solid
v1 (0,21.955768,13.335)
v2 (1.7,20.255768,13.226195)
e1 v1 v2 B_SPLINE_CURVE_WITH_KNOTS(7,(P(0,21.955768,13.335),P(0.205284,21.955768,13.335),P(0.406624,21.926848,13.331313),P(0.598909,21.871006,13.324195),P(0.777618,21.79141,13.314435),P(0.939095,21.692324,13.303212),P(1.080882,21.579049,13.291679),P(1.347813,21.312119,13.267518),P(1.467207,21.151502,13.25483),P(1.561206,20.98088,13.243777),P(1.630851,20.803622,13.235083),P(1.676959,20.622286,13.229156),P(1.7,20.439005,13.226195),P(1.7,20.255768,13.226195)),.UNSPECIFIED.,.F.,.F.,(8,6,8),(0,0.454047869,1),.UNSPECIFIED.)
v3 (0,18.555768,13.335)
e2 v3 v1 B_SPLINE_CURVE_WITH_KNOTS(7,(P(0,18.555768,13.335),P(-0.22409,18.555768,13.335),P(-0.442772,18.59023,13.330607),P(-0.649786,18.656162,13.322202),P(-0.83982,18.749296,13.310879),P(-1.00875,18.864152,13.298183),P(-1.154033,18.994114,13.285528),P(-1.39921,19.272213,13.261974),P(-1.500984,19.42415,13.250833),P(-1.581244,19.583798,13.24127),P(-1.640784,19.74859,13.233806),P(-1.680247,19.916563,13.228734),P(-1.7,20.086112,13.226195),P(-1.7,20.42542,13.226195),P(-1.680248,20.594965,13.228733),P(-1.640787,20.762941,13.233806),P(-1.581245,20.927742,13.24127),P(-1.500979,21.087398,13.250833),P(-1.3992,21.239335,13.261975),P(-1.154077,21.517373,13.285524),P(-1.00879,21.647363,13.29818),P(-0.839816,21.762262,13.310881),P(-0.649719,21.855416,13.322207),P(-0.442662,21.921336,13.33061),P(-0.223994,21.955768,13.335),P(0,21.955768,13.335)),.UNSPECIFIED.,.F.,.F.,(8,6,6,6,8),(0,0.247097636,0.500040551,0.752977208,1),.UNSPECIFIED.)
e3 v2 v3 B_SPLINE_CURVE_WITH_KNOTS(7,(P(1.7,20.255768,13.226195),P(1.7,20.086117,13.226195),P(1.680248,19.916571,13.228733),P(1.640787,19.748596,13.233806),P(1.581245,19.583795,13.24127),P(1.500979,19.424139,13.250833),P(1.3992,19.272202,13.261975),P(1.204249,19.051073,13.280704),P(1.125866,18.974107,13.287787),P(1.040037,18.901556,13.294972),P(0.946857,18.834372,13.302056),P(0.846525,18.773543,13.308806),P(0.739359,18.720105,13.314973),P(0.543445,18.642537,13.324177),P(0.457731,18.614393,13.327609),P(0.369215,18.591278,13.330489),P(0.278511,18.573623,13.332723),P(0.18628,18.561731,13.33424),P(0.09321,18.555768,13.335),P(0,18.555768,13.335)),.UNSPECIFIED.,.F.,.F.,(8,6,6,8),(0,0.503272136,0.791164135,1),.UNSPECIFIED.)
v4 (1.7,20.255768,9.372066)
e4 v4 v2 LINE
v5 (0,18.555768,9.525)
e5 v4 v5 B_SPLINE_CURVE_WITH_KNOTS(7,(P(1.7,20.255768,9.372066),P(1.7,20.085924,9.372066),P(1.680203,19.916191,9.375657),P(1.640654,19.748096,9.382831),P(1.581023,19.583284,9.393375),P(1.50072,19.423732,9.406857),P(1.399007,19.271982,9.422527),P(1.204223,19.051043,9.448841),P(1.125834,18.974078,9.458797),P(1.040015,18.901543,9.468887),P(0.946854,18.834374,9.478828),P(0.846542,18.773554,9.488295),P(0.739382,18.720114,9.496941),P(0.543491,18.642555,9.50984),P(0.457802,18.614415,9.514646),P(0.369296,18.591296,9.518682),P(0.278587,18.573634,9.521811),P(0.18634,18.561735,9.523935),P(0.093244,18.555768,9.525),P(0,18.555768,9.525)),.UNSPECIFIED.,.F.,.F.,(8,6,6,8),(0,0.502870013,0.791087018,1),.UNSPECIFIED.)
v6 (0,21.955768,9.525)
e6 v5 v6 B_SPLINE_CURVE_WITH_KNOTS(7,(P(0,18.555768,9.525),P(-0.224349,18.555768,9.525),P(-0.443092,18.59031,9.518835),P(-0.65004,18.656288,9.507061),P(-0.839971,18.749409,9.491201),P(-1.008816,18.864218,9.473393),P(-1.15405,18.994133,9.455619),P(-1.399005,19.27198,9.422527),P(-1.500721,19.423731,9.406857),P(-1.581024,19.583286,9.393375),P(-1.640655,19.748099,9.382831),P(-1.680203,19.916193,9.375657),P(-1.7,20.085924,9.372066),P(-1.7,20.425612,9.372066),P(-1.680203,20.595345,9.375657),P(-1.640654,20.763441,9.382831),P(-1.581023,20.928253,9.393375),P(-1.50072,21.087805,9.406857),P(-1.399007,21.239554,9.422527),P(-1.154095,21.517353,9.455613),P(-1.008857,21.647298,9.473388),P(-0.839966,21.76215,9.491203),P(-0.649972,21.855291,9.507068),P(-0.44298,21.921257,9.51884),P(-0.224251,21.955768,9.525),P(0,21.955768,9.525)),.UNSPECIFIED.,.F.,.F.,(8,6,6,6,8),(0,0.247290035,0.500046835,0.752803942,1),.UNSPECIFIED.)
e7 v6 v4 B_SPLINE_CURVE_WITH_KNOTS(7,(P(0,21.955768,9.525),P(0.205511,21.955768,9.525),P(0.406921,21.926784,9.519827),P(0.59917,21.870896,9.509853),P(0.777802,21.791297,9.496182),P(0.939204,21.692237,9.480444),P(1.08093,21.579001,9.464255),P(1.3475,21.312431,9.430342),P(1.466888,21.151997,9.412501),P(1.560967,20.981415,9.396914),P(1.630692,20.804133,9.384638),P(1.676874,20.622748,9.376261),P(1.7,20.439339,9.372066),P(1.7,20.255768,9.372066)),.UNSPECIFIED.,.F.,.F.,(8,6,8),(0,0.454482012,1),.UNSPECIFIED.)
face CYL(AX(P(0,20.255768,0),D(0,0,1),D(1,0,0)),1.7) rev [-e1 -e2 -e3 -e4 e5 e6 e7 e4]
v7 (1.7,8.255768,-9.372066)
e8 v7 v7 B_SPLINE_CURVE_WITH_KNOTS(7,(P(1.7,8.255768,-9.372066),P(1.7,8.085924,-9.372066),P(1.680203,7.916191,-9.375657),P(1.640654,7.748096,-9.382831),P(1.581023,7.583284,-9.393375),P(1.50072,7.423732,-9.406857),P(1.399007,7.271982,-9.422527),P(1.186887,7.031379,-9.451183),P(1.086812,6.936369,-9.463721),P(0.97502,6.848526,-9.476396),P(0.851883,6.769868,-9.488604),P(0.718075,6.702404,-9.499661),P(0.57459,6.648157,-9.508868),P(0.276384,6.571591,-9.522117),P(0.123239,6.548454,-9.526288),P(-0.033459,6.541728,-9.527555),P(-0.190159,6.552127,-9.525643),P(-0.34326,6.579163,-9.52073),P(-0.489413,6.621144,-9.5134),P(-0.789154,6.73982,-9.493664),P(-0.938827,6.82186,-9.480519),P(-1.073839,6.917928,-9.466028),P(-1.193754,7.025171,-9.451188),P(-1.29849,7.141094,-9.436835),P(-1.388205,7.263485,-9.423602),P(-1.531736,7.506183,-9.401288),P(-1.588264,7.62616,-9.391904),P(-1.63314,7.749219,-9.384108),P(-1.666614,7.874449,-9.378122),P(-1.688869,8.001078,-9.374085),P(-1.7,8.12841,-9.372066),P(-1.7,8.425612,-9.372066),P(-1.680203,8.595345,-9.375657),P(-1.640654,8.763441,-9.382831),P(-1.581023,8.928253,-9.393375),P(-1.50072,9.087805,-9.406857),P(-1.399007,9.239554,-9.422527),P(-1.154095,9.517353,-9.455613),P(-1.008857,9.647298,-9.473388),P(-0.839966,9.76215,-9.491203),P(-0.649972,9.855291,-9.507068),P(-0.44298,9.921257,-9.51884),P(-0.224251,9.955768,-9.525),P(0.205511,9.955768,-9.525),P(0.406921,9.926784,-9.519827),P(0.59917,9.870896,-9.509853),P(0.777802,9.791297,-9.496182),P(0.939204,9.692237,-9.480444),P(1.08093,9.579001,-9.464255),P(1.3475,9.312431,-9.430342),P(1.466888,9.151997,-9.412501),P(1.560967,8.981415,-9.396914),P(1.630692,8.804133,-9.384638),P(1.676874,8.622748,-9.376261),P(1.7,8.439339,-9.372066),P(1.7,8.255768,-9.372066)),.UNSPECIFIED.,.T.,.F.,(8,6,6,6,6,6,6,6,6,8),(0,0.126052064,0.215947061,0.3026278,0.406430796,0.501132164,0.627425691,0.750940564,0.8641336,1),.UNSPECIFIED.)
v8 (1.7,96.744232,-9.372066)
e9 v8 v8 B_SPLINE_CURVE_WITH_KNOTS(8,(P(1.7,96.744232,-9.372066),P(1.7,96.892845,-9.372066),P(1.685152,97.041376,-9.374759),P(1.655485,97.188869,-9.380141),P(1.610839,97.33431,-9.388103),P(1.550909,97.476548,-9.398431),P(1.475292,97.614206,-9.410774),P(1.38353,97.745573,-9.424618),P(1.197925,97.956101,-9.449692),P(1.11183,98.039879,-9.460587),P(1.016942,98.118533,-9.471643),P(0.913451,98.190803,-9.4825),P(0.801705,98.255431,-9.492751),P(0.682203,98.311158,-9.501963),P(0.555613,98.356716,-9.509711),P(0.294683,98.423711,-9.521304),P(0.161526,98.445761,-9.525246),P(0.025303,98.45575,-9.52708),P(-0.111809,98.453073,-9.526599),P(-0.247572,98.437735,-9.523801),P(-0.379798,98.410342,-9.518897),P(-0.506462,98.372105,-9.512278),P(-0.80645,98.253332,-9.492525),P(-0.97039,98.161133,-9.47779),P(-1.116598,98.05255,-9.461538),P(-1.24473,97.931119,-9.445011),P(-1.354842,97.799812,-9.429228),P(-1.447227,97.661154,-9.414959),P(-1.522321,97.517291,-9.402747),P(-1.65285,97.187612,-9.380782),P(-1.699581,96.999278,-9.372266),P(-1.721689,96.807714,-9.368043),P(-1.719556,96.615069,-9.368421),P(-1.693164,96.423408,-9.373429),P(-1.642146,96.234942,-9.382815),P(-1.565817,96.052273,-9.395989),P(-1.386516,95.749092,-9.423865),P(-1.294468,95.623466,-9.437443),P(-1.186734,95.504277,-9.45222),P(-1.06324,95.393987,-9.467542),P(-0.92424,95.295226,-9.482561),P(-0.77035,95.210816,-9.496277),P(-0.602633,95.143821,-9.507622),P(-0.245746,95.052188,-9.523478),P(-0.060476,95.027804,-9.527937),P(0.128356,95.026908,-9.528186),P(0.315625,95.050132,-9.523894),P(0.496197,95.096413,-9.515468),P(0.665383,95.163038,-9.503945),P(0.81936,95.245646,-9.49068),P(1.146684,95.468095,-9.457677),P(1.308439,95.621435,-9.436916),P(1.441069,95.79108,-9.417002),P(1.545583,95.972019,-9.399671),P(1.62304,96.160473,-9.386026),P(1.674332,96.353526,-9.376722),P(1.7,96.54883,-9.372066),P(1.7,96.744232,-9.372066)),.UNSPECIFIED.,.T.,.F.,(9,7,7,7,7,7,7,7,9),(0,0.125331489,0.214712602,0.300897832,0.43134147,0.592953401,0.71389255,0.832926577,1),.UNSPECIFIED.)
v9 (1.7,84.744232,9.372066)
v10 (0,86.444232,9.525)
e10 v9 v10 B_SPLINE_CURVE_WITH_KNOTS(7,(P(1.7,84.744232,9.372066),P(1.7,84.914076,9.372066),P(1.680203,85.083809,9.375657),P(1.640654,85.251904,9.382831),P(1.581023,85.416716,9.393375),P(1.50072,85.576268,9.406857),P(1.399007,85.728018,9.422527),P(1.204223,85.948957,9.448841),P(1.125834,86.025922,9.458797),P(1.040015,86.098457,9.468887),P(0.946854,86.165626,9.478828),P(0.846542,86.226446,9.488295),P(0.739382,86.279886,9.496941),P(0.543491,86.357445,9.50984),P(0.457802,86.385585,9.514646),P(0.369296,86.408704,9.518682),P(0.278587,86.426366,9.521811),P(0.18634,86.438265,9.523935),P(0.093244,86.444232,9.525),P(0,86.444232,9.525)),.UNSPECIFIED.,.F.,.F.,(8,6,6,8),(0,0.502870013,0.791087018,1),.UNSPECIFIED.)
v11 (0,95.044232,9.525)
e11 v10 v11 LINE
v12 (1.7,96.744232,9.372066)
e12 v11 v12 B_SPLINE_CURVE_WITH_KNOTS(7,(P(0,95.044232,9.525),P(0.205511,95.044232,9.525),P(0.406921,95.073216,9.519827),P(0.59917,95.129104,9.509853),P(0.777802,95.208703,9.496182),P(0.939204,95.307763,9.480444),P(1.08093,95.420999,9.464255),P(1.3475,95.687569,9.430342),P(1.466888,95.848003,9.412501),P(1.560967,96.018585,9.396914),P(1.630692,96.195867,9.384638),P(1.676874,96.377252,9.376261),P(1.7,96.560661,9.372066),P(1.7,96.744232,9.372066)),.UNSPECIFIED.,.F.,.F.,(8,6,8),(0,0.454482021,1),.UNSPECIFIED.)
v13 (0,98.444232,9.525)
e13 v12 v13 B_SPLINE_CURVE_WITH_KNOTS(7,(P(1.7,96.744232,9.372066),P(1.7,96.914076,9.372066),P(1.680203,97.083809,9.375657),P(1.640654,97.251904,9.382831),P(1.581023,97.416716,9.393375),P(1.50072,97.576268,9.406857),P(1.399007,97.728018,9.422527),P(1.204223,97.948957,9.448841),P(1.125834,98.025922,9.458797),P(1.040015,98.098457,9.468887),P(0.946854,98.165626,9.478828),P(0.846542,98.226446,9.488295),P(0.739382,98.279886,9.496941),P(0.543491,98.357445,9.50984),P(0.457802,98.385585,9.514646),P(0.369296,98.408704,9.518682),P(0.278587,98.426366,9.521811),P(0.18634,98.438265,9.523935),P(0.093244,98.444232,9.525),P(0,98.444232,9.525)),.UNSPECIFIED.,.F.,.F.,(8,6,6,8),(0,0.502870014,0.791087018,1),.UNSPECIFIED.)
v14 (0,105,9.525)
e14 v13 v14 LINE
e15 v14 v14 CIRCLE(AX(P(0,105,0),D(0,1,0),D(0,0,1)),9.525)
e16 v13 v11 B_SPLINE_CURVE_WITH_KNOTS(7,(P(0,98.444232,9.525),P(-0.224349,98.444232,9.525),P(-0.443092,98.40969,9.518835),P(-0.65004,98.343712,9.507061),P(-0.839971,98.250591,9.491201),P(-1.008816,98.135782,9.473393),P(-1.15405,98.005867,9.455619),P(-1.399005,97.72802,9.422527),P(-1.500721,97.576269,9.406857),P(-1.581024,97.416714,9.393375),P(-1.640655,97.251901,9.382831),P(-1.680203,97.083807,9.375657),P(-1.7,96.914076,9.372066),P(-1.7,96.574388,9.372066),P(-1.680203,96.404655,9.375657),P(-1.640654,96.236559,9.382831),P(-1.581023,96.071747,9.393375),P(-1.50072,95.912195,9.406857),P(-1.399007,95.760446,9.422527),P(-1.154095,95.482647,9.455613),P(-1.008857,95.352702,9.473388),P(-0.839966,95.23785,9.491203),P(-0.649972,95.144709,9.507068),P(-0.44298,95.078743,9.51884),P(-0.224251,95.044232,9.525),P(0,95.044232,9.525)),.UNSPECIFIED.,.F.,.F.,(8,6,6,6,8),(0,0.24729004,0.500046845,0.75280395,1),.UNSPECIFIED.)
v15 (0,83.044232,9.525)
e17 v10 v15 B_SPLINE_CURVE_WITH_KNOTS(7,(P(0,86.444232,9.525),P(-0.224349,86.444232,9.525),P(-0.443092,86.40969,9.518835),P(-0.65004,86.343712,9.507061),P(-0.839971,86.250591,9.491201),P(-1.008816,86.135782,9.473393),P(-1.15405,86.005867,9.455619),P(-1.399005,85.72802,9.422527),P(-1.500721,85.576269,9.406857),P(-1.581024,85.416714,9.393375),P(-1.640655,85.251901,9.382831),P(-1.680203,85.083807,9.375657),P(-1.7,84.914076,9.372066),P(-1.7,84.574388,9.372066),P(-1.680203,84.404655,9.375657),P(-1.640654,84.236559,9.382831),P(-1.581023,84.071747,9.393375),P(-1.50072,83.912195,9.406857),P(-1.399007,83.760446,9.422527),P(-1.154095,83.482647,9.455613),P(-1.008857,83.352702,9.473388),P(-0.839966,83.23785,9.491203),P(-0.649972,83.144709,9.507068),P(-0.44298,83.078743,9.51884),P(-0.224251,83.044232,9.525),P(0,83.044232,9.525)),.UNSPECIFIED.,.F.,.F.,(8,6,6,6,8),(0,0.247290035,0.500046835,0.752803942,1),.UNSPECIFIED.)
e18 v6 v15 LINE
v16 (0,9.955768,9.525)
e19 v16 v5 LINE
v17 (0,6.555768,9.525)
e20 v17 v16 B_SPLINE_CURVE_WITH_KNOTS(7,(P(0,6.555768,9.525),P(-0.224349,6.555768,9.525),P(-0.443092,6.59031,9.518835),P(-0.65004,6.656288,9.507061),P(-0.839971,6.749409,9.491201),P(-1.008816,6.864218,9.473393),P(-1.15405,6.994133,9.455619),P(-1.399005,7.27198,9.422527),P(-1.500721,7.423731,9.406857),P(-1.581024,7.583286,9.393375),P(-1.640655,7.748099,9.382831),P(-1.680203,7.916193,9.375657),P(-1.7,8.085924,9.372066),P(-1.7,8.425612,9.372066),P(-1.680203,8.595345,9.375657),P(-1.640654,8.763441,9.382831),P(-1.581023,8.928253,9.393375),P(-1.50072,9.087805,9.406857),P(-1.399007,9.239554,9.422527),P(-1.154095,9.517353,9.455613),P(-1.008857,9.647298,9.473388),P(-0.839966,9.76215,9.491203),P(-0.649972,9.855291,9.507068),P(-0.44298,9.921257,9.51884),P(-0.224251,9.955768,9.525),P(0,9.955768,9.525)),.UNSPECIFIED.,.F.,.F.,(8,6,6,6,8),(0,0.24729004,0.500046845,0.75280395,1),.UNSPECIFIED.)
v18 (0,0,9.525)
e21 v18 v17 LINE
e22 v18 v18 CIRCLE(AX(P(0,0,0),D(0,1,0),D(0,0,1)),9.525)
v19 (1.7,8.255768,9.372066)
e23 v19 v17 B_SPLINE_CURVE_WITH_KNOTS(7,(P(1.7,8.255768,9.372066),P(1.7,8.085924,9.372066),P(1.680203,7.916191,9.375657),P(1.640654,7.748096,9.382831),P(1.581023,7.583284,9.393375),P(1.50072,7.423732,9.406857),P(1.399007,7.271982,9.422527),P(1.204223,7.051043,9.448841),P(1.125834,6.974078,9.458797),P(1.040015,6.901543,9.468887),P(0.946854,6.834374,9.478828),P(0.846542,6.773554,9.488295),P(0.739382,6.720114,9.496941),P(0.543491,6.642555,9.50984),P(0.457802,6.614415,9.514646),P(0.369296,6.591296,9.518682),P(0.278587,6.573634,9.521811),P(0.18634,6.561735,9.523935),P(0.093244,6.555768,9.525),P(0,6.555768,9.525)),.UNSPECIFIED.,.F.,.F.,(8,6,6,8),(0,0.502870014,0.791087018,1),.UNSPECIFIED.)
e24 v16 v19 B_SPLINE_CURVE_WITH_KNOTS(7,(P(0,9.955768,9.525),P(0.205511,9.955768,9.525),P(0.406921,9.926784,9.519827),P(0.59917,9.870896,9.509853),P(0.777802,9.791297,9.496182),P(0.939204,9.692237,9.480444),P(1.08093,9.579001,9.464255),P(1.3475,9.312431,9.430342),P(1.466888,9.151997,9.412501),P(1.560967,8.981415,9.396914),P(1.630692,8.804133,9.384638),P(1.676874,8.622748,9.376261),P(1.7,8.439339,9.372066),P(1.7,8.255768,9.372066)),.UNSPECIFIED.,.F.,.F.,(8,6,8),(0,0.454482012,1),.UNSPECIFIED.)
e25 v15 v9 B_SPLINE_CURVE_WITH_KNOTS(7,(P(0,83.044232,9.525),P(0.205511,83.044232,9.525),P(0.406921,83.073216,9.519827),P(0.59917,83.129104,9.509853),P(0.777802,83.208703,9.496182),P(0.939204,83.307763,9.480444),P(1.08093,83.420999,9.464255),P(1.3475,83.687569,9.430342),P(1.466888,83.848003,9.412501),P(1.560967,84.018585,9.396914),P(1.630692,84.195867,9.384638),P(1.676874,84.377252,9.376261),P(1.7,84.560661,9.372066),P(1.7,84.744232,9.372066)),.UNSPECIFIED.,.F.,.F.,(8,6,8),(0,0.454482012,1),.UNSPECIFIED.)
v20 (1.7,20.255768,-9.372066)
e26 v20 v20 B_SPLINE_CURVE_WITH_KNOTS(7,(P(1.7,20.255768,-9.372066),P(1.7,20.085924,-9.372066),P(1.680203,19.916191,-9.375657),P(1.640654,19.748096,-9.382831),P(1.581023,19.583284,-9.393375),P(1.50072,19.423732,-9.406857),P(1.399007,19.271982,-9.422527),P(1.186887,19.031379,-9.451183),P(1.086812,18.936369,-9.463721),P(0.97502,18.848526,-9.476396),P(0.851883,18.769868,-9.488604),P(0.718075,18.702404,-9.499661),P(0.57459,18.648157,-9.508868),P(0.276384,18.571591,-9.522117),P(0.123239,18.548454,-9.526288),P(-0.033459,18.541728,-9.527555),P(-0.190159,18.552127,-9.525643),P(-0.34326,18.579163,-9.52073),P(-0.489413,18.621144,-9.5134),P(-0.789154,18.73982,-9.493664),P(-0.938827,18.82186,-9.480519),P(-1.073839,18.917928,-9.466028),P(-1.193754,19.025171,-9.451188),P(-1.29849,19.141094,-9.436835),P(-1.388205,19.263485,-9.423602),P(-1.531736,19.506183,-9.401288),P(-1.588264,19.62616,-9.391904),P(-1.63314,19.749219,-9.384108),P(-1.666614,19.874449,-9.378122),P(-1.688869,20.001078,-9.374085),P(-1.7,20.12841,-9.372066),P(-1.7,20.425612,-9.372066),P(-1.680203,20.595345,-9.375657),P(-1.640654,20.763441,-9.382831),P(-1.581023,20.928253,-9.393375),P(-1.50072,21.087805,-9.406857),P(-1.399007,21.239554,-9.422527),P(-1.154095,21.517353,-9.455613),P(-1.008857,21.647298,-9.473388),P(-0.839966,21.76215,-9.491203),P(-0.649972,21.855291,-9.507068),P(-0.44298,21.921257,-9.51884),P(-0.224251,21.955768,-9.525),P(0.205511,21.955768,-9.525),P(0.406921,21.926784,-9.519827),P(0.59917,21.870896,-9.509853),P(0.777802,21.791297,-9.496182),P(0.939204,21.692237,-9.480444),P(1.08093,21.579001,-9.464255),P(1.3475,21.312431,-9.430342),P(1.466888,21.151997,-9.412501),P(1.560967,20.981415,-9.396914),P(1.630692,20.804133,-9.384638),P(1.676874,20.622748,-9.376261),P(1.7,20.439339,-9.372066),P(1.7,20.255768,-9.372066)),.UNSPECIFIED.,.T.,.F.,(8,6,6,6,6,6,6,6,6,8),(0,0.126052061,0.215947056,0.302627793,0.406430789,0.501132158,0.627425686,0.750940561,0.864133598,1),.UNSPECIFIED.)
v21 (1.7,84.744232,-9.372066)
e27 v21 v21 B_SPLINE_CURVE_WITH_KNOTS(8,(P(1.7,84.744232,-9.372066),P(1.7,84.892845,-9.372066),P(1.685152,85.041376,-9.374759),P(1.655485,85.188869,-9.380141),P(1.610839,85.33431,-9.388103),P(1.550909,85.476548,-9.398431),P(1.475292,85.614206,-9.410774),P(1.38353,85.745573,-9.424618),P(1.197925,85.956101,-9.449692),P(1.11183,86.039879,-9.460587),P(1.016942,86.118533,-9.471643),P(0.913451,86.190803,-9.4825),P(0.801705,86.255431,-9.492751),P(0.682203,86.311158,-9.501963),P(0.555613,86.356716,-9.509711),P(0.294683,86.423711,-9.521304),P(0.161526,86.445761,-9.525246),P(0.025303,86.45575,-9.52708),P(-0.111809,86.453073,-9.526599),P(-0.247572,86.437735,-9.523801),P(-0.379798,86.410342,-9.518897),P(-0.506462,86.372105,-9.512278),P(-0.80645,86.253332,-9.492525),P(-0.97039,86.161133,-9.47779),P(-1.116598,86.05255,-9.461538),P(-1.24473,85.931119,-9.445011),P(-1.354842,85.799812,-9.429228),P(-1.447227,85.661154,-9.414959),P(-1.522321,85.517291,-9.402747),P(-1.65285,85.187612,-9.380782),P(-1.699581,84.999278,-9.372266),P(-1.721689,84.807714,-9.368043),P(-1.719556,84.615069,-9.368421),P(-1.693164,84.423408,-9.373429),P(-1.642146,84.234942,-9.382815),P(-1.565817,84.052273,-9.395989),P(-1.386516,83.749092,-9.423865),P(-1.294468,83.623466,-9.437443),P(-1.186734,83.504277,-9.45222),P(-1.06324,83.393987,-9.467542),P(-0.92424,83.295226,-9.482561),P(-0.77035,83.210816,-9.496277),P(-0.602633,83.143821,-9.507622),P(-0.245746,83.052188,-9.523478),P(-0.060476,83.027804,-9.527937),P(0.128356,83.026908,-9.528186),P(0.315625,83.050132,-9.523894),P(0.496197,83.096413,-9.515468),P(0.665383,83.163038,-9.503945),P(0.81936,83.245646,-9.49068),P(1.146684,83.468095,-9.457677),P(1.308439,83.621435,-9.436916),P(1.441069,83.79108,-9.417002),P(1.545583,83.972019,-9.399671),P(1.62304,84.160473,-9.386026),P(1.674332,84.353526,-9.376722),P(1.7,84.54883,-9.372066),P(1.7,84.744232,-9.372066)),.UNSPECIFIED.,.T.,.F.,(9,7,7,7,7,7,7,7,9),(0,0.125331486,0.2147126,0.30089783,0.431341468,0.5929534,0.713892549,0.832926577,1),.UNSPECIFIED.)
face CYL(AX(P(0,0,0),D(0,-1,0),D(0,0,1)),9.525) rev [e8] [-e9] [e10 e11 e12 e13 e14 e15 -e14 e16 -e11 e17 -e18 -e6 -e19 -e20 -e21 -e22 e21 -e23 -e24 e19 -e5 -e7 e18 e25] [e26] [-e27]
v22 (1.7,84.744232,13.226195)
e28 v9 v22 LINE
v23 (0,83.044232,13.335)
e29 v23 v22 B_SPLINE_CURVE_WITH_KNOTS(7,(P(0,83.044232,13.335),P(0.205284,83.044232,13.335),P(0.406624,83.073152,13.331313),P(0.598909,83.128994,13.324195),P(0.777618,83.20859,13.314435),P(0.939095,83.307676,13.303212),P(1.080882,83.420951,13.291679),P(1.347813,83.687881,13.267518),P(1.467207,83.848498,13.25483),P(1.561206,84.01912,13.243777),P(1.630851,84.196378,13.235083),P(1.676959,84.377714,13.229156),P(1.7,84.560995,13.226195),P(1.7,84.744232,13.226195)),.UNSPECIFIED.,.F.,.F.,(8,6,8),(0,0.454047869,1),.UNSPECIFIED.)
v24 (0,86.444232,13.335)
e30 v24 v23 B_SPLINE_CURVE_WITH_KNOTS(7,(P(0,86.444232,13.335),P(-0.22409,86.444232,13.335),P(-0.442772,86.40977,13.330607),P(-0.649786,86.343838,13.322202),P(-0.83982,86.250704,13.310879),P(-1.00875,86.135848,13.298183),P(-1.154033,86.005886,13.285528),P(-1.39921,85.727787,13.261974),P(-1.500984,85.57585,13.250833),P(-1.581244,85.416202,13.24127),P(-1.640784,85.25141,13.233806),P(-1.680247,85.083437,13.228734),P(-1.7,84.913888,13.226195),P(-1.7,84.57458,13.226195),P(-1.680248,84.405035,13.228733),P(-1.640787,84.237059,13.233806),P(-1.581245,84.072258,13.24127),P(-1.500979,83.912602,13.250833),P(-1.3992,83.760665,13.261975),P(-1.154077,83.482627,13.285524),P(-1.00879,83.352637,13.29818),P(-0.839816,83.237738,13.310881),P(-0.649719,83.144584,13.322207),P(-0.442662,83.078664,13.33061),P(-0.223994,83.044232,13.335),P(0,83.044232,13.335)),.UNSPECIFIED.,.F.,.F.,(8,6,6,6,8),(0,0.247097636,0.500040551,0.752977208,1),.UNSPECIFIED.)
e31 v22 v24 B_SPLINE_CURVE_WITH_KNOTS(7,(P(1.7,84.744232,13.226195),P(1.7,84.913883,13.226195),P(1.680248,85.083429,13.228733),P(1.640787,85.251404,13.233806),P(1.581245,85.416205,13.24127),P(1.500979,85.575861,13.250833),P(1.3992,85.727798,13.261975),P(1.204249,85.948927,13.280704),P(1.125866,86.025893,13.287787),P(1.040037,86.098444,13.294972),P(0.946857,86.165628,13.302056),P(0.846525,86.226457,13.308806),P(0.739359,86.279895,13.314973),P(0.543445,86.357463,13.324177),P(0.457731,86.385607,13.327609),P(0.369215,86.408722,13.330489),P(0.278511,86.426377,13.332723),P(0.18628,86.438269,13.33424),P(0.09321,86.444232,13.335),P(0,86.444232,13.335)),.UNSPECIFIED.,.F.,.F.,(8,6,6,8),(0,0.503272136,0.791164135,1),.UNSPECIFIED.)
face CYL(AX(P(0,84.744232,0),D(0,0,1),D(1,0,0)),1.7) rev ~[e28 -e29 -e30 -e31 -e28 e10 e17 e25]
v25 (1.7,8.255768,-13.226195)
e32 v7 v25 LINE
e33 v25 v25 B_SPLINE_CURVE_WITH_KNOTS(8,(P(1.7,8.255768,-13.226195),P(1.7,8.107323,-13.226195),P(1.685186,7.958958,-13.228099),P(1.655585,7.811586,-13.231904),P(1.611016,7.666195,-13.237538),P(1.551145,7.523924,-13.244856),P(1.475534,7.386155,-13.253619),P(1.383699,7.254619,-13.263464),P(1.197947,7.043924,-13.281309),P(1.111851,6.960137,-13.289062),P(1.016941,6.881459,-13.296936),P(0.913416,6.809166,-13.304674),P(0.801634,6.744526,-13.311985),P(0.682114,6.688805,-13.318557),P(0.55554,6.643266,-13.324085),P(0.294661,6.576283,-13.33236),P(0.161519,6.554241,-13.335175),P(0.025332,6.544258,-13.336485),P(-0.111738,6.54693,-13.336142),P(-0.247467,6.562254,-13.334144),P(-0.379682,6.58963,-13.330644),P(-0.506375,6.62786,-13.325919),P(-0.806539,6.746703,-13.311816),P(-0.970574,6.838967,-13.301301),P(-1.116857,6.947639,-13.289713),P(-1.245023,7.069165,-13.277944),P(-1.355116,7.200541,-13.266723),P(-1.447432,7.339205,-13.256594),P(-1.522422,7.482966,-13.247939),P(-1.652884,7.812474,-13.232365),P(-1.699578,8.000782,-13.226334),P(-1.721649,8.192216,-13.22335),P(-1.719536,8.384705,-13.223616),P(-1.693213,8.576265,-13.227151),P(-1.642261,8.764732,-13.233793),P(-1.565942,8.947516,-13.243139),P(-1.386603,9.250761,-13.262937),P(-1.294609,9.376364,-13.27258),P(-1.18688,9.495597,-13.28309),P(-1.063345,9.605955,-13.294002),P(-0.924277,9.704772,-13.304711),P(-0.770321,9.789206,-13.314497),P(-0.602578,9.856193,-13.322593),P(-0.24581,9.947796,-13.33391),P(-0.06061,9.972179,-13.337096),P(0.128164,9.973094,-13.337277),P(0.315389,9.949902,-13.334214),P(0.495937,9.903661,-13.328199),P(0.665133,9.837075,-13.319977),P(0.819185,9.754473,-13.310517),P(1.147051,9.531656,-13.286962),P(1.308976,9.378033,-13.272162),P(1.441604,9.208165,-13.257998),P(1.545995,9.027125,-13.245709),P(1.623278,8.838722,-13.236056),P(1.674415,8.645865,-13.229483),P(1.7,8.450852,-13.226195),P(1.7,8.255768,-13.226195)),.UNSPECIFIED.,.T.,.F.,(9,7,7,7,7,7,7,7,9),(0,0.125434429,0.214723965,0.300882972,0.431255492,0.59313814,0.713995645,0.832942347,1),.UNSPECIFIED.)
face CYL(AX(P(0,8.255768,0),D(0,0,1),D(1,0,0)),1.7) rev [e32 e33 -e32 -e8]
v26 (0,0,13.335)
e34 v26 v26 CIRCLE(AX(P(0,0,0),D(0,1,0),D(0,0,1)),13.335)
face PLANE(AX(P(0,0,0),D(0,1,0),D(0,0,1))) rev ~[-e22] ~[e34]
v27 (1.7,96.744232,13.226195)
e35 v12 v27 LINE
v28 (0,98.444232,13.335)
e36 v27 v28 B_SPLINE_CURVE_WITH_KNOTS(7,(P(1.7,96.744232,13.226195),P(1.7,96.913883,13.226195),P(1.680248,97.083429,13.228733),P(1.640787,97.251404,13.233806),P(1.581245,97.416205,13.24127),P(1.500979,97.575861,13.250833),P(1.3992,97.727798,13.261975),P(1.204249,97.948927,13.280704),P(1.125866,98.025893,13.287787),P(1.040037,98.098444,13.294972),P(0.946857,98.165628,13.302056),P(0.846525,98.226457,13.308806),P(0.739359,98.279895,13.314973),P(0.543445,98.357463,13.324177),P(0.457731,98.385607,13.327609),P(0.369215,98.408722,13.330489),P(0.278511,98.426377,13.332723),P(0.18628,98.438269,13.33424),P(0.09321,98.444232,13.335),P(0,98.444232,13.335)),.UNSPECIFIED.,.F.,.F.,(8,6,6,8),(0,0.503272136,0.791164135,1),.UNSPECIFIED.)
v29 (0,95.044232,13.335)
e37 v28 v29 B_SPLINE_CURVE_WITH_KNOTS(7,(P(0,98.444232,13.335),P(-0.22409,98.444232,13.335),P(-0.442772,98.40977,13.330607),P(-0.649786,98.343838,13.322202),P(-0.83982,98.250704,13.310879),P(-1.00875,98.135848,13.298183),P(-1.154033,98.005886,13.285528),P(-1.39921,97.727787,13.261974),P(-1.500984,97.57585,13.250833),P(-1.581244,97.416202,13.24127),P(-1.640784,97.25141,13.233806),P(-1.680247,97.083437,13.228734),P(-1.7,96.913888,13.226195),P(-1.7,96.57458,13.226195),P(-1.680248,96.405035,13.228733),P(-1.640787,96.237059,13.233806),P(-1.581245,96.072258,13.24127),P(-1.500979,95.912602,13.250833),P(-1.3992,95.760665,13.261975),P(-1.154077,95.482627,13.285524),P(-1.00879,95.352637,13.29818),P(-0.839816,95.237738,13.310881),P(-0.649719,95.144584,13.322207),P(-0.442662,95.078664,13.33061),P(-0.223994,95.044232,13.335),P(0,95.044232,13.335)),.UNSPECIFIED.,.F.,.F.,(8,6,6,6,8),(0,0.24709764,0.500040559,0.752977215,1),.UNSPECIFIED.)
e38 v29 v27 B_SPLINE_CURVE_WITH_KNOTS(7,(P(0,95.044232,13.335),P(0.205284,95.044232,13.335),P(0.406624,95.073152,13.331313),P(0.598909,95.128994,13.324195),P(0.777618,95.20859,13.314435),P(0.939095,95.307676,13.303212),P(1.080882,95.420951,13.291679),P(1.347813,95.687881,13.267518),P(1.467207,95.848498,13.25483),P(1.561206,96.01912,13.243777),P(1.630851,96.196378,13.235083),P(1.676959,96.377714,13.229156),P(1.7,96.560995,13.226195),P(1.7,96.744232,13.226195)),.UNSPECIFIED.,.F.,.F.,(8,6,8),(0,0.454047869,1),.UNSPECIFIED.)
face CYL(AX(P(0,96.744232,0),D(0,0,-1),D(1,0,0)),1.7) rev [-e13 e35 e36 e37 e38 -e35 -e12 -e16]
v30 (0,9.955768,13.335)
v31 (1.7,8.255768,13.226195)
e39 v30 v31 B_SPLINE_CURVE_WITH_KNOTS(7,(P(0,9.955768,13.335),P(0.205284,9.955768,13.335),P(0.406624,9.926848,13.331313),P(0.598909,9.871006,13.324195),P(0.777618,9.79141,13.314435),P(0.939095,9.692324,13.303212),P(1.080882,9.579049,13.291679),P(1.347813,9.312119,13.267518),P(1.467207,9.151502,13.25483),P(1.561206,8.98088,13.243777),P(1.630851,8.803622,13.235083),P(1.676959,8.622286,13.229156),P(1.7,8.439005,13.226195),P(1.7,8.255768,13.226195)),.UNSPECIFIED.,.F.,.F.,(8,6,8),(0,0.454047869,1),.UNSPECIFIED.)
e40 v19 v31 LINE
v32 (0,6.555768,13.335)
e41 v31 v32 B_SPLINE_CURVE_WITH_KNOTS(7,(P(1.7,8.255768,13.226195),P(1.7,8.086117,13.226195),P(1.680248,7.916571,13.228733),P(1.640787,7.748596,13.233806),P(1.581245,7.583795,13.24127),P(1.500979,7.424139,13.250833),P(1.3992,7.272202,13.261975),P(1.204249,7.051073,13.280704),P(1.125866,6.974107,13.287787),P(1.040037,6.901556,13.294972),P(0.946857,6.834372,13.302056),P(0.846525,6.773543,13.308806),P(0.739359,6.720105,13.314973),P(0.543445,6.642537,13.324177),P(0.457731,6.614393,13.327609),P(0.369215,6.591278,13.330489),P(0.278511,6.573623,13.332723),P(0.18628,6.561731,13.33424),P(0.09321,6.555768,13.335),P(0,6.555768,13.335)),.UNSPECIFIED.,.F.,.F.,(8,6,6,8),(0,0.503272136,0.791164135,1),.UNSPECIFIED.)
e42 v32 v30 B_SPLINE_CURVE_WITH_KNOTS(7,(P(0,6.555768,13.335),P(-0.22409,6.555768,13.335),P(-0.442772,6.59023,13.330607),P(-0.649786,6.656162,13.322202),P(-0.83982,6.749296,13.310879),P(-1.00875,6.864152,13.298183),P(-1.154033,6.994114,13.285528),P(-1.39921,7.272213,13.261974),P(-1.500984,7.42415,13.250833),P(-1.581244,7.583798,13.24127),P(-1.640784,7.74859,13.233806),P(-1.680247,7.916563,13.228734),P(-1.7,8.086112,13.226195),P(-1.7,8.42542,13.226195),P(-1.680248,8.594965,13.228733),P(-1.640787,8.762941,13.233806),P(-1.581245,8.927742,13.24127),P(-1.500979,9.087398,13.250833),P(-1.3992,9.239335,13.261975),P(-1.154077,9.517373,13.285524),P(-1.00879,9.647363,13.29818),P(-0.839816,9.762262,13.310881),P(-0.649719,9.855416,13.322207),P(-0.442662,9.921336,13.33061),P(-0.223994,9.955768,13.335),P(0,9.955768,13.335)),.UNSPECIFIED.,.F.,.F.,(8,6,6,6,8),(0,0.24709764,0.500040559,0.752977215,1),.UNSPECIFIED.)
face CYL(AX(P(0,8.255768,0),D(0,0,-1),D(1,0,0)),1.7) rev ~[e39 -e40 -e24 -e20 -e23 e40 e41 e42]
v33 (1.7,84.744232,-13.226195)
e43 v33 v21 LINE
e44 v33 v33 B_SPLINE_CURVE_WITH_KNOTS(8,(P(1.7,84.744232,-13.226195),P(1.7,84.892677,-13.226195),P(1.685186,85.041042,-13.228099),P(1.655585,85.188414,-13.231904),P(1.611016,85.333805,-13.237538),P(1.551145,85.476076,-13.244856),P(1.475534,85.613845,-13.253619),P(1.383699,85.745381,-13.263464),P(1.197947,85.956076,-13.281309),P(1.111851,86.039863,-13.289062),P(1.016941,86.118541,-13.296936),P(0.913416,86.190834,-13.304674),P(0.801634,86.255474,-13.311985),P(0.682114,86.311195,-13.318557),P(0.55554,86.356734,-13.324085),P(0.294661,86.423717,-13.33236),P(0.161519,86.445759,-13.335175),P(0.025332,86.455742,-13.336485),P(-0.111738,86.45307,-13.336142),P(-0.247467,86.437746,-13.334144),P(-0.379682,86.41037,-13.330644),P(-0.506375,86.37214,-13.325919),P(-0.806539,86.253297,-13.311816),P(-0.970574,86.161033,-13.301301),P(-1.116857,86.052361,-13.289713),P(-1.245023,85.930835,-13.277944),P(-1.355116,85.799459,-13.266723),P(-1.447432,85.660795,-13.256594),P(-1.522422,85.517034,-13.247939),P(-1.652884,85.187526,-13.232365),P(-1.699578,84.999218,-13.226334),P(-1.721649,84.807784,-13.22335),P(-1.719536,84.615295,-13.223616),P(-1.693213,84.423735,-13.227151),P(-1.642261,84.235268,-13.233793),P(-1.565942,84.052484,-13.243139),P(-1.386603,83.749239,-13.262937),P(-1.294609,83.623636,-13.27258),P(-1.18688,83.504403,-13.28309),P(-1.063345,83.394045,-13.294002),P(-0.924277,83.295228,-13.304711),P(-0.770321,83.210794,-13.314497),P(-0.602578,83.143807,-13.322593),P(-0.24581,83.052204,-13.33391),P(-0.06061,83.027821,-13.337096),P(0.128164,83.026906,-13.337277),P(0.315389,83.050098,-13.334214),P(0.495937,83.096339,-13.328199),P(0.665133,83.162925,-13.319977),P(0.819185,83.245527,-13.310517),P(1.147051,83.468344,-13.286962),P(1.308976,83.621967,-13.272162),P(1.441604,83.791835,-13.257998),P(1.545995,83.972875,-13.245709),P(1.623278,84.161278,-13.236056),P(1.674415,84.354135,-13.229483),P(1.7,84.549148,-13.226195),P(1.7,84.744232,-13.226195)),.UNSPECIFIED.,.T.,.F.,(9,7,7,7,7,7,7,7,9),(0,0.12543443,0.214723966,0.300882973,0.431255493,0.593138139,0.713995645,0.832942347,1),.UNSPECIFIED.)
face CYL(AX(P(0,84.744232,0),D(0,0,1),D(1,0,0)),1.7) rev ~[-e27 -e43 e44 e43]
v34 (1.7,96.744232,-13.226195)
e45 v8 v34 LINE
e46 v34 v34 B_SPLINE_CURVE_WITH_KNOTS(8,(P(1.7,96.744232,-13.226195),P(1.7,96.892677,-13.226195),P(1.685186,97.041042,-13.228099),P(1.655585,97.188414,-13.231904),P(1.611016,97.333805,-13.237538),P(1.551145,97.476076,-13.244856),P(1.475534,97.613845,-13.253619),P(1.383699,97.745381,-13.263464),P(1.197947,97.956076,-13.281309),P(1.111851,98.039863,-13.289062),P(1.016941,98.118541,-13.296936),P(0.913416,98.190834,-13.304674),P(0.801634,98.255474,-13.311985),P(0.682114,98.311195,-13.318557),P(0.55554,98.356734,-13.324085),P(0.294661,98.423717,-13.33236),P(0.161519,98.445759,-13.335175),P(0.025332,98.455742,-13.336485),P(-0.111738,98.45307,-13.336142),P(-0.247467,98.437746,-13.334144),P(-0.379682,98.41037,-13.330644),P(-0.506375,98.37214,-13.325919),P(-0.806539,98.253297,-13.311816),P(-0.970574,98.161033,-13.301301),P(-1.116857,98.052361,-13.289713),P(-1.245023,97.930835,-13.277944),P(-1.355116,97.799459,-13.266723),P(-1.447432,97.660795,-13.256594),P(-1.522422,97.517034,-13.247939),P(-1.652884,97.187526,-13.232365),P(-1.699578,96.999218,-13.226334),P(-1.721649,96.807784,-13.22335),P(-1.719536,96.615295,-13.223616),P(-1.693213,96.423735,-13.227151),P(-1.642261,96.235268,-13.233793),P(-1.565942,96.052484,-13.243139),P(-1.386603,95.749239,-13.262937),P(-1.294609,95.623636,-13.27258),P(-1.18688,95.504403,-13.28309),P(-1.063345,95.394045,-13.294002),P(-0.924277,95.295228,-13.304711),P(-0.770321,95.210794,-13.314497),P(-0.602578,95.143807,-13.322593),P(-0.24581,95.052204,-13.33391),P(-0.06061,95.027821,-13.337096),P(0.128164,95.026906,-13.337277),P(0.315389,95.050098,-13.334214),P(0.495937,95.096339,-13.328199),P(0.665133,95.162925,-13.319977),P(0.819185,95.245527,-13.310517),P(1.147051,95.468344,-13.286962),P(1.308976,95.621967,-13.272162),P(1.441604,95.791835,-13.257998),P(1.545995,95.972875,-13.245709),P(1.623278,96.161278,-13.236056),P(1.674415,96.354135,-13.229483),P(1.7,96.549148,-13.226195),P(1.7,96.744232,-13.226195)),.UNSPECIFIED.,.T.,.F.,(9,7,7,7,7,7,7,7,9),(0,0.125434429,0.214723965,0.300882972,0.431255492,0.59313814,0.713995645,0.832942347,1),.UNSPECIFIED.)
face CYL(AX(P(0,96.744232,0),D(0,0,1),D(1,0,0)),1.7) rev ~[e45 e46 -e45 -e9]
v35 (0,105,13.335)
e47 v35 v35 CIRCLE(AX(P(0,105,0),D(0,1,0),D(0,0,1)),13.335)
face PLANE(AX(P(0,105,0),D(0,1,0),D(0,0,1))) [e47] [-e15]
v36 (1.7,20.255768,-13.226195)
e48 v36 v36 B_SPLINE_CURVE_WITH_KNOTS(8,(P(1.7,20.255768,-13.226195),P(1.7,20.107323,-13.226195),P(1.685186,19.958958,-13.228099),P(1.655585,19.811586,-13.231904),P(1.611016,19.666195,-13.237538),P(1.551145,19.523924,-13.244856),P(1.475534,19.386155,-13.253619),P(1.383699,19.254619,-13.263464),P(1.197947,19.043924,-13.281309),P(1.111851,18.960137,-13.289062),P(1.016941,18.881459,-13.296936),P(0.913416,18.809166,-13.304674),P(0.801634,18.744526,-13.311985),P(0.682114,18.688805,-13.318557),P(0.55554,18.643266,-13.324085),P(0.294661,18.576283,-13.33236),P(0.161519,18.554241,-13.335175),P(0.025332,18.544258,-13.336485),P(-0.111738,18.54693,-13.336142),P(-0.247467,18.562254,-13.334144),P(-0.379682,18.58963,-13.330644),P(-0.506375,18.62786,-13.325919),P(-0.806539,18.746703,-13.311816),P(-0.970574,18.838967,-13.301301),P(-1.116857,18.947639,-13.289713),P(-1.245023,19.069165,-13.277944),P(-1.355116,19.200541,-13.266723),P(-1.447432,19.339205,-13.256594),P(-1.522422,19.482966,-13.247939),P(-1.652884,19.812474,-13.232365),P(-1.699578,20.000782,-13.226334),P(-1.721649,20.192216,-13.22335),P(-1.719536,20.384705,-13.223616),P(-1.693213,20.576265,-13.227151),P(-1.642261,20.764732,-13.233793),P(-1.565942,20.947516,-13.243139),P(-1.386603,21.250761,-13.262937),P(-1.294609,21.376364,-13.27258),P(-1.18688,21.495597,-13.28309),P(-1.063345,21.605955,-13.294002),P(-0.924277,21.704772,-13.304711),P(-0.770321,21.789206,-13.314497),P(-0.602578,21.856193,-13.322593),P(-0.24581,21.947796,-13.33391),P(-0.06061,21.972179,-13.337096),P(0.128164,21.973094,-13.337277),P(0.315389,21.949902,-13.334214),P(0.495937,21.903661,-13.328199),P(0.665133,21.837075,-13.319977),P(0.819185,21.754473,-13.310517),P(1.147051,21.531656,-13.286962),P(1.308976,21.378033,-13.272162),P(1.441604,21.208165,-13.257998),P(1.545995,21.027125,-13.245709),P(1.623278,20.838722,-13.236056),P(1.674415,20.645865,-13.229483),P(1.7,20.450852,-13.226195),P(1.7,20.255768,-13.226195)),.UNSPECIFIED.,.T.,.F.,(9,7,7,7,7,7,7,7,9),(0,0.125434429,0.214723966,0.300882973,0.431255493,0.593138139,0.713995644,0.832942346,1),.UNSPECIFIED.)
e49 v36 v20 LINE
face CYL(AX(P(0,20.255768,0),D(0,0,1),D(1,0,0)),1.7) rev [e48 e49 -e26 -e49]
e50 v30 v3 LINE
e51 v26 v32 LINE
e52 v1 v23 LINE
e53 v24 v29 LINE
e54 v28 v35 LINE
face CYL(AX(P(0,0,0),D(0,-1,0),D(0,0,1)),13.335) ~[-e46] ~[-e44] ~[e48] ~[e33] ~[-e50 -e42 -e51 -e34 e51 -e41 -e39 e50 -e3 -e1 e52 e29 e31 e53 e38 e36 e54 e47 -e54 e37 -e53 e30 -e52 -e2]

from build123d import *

# Parameters (mm, degrees)
SKETCH1_R           = 13.335
SKETCH1_R_2         = 9.525
BOSS_EXTRUDE1_DEPTH = 105
SKETCH4_R           = 1.7
CUT_EXTRUDE1_DEPTH  = 107.680103346


with BuildPart() as part:
    # Sketch1 → Boss-Extrude1 (new body)
    with BuildSketch(Plane(origin=(0, 0, 0), x_dir=(1, 0, 0), z_dir=(0, 1, 0))):
        with Locations(Location((0, 0, 0), (0, 0, 270))):
            Circle(SKETCH1_R)
        with Locations(Location((0, 0, 0), (0, 0, 270))):
            Circle(SKETCH1_R_2, mode=Mode.SUBTRACT)
    extrude(amount=BOSS_EXTRUDE1_DEPTH)

    # Sketch4 → Cut-Extrude1 (cut, symmetric)
    with BuildSketch(Plane.XY):
        with Locations((0, 96.744231704)):
            Circle(SKETCH4_R)
        with Locations((0, 84.744231704)):
            Circle(SKETCH4_R)
    cut_extrude1 = extrude(amount=CUT_EXTRUDE1_DEPTH, both=True, mode=Mode.SUBTRACT)

    # Mirror2: Cut-Extrude1 across plane
    add(cut_extrude1.mirror(Plane.ZX.offset(52.5)), mode=Mode.SUBTRACT)


solid = part.part
